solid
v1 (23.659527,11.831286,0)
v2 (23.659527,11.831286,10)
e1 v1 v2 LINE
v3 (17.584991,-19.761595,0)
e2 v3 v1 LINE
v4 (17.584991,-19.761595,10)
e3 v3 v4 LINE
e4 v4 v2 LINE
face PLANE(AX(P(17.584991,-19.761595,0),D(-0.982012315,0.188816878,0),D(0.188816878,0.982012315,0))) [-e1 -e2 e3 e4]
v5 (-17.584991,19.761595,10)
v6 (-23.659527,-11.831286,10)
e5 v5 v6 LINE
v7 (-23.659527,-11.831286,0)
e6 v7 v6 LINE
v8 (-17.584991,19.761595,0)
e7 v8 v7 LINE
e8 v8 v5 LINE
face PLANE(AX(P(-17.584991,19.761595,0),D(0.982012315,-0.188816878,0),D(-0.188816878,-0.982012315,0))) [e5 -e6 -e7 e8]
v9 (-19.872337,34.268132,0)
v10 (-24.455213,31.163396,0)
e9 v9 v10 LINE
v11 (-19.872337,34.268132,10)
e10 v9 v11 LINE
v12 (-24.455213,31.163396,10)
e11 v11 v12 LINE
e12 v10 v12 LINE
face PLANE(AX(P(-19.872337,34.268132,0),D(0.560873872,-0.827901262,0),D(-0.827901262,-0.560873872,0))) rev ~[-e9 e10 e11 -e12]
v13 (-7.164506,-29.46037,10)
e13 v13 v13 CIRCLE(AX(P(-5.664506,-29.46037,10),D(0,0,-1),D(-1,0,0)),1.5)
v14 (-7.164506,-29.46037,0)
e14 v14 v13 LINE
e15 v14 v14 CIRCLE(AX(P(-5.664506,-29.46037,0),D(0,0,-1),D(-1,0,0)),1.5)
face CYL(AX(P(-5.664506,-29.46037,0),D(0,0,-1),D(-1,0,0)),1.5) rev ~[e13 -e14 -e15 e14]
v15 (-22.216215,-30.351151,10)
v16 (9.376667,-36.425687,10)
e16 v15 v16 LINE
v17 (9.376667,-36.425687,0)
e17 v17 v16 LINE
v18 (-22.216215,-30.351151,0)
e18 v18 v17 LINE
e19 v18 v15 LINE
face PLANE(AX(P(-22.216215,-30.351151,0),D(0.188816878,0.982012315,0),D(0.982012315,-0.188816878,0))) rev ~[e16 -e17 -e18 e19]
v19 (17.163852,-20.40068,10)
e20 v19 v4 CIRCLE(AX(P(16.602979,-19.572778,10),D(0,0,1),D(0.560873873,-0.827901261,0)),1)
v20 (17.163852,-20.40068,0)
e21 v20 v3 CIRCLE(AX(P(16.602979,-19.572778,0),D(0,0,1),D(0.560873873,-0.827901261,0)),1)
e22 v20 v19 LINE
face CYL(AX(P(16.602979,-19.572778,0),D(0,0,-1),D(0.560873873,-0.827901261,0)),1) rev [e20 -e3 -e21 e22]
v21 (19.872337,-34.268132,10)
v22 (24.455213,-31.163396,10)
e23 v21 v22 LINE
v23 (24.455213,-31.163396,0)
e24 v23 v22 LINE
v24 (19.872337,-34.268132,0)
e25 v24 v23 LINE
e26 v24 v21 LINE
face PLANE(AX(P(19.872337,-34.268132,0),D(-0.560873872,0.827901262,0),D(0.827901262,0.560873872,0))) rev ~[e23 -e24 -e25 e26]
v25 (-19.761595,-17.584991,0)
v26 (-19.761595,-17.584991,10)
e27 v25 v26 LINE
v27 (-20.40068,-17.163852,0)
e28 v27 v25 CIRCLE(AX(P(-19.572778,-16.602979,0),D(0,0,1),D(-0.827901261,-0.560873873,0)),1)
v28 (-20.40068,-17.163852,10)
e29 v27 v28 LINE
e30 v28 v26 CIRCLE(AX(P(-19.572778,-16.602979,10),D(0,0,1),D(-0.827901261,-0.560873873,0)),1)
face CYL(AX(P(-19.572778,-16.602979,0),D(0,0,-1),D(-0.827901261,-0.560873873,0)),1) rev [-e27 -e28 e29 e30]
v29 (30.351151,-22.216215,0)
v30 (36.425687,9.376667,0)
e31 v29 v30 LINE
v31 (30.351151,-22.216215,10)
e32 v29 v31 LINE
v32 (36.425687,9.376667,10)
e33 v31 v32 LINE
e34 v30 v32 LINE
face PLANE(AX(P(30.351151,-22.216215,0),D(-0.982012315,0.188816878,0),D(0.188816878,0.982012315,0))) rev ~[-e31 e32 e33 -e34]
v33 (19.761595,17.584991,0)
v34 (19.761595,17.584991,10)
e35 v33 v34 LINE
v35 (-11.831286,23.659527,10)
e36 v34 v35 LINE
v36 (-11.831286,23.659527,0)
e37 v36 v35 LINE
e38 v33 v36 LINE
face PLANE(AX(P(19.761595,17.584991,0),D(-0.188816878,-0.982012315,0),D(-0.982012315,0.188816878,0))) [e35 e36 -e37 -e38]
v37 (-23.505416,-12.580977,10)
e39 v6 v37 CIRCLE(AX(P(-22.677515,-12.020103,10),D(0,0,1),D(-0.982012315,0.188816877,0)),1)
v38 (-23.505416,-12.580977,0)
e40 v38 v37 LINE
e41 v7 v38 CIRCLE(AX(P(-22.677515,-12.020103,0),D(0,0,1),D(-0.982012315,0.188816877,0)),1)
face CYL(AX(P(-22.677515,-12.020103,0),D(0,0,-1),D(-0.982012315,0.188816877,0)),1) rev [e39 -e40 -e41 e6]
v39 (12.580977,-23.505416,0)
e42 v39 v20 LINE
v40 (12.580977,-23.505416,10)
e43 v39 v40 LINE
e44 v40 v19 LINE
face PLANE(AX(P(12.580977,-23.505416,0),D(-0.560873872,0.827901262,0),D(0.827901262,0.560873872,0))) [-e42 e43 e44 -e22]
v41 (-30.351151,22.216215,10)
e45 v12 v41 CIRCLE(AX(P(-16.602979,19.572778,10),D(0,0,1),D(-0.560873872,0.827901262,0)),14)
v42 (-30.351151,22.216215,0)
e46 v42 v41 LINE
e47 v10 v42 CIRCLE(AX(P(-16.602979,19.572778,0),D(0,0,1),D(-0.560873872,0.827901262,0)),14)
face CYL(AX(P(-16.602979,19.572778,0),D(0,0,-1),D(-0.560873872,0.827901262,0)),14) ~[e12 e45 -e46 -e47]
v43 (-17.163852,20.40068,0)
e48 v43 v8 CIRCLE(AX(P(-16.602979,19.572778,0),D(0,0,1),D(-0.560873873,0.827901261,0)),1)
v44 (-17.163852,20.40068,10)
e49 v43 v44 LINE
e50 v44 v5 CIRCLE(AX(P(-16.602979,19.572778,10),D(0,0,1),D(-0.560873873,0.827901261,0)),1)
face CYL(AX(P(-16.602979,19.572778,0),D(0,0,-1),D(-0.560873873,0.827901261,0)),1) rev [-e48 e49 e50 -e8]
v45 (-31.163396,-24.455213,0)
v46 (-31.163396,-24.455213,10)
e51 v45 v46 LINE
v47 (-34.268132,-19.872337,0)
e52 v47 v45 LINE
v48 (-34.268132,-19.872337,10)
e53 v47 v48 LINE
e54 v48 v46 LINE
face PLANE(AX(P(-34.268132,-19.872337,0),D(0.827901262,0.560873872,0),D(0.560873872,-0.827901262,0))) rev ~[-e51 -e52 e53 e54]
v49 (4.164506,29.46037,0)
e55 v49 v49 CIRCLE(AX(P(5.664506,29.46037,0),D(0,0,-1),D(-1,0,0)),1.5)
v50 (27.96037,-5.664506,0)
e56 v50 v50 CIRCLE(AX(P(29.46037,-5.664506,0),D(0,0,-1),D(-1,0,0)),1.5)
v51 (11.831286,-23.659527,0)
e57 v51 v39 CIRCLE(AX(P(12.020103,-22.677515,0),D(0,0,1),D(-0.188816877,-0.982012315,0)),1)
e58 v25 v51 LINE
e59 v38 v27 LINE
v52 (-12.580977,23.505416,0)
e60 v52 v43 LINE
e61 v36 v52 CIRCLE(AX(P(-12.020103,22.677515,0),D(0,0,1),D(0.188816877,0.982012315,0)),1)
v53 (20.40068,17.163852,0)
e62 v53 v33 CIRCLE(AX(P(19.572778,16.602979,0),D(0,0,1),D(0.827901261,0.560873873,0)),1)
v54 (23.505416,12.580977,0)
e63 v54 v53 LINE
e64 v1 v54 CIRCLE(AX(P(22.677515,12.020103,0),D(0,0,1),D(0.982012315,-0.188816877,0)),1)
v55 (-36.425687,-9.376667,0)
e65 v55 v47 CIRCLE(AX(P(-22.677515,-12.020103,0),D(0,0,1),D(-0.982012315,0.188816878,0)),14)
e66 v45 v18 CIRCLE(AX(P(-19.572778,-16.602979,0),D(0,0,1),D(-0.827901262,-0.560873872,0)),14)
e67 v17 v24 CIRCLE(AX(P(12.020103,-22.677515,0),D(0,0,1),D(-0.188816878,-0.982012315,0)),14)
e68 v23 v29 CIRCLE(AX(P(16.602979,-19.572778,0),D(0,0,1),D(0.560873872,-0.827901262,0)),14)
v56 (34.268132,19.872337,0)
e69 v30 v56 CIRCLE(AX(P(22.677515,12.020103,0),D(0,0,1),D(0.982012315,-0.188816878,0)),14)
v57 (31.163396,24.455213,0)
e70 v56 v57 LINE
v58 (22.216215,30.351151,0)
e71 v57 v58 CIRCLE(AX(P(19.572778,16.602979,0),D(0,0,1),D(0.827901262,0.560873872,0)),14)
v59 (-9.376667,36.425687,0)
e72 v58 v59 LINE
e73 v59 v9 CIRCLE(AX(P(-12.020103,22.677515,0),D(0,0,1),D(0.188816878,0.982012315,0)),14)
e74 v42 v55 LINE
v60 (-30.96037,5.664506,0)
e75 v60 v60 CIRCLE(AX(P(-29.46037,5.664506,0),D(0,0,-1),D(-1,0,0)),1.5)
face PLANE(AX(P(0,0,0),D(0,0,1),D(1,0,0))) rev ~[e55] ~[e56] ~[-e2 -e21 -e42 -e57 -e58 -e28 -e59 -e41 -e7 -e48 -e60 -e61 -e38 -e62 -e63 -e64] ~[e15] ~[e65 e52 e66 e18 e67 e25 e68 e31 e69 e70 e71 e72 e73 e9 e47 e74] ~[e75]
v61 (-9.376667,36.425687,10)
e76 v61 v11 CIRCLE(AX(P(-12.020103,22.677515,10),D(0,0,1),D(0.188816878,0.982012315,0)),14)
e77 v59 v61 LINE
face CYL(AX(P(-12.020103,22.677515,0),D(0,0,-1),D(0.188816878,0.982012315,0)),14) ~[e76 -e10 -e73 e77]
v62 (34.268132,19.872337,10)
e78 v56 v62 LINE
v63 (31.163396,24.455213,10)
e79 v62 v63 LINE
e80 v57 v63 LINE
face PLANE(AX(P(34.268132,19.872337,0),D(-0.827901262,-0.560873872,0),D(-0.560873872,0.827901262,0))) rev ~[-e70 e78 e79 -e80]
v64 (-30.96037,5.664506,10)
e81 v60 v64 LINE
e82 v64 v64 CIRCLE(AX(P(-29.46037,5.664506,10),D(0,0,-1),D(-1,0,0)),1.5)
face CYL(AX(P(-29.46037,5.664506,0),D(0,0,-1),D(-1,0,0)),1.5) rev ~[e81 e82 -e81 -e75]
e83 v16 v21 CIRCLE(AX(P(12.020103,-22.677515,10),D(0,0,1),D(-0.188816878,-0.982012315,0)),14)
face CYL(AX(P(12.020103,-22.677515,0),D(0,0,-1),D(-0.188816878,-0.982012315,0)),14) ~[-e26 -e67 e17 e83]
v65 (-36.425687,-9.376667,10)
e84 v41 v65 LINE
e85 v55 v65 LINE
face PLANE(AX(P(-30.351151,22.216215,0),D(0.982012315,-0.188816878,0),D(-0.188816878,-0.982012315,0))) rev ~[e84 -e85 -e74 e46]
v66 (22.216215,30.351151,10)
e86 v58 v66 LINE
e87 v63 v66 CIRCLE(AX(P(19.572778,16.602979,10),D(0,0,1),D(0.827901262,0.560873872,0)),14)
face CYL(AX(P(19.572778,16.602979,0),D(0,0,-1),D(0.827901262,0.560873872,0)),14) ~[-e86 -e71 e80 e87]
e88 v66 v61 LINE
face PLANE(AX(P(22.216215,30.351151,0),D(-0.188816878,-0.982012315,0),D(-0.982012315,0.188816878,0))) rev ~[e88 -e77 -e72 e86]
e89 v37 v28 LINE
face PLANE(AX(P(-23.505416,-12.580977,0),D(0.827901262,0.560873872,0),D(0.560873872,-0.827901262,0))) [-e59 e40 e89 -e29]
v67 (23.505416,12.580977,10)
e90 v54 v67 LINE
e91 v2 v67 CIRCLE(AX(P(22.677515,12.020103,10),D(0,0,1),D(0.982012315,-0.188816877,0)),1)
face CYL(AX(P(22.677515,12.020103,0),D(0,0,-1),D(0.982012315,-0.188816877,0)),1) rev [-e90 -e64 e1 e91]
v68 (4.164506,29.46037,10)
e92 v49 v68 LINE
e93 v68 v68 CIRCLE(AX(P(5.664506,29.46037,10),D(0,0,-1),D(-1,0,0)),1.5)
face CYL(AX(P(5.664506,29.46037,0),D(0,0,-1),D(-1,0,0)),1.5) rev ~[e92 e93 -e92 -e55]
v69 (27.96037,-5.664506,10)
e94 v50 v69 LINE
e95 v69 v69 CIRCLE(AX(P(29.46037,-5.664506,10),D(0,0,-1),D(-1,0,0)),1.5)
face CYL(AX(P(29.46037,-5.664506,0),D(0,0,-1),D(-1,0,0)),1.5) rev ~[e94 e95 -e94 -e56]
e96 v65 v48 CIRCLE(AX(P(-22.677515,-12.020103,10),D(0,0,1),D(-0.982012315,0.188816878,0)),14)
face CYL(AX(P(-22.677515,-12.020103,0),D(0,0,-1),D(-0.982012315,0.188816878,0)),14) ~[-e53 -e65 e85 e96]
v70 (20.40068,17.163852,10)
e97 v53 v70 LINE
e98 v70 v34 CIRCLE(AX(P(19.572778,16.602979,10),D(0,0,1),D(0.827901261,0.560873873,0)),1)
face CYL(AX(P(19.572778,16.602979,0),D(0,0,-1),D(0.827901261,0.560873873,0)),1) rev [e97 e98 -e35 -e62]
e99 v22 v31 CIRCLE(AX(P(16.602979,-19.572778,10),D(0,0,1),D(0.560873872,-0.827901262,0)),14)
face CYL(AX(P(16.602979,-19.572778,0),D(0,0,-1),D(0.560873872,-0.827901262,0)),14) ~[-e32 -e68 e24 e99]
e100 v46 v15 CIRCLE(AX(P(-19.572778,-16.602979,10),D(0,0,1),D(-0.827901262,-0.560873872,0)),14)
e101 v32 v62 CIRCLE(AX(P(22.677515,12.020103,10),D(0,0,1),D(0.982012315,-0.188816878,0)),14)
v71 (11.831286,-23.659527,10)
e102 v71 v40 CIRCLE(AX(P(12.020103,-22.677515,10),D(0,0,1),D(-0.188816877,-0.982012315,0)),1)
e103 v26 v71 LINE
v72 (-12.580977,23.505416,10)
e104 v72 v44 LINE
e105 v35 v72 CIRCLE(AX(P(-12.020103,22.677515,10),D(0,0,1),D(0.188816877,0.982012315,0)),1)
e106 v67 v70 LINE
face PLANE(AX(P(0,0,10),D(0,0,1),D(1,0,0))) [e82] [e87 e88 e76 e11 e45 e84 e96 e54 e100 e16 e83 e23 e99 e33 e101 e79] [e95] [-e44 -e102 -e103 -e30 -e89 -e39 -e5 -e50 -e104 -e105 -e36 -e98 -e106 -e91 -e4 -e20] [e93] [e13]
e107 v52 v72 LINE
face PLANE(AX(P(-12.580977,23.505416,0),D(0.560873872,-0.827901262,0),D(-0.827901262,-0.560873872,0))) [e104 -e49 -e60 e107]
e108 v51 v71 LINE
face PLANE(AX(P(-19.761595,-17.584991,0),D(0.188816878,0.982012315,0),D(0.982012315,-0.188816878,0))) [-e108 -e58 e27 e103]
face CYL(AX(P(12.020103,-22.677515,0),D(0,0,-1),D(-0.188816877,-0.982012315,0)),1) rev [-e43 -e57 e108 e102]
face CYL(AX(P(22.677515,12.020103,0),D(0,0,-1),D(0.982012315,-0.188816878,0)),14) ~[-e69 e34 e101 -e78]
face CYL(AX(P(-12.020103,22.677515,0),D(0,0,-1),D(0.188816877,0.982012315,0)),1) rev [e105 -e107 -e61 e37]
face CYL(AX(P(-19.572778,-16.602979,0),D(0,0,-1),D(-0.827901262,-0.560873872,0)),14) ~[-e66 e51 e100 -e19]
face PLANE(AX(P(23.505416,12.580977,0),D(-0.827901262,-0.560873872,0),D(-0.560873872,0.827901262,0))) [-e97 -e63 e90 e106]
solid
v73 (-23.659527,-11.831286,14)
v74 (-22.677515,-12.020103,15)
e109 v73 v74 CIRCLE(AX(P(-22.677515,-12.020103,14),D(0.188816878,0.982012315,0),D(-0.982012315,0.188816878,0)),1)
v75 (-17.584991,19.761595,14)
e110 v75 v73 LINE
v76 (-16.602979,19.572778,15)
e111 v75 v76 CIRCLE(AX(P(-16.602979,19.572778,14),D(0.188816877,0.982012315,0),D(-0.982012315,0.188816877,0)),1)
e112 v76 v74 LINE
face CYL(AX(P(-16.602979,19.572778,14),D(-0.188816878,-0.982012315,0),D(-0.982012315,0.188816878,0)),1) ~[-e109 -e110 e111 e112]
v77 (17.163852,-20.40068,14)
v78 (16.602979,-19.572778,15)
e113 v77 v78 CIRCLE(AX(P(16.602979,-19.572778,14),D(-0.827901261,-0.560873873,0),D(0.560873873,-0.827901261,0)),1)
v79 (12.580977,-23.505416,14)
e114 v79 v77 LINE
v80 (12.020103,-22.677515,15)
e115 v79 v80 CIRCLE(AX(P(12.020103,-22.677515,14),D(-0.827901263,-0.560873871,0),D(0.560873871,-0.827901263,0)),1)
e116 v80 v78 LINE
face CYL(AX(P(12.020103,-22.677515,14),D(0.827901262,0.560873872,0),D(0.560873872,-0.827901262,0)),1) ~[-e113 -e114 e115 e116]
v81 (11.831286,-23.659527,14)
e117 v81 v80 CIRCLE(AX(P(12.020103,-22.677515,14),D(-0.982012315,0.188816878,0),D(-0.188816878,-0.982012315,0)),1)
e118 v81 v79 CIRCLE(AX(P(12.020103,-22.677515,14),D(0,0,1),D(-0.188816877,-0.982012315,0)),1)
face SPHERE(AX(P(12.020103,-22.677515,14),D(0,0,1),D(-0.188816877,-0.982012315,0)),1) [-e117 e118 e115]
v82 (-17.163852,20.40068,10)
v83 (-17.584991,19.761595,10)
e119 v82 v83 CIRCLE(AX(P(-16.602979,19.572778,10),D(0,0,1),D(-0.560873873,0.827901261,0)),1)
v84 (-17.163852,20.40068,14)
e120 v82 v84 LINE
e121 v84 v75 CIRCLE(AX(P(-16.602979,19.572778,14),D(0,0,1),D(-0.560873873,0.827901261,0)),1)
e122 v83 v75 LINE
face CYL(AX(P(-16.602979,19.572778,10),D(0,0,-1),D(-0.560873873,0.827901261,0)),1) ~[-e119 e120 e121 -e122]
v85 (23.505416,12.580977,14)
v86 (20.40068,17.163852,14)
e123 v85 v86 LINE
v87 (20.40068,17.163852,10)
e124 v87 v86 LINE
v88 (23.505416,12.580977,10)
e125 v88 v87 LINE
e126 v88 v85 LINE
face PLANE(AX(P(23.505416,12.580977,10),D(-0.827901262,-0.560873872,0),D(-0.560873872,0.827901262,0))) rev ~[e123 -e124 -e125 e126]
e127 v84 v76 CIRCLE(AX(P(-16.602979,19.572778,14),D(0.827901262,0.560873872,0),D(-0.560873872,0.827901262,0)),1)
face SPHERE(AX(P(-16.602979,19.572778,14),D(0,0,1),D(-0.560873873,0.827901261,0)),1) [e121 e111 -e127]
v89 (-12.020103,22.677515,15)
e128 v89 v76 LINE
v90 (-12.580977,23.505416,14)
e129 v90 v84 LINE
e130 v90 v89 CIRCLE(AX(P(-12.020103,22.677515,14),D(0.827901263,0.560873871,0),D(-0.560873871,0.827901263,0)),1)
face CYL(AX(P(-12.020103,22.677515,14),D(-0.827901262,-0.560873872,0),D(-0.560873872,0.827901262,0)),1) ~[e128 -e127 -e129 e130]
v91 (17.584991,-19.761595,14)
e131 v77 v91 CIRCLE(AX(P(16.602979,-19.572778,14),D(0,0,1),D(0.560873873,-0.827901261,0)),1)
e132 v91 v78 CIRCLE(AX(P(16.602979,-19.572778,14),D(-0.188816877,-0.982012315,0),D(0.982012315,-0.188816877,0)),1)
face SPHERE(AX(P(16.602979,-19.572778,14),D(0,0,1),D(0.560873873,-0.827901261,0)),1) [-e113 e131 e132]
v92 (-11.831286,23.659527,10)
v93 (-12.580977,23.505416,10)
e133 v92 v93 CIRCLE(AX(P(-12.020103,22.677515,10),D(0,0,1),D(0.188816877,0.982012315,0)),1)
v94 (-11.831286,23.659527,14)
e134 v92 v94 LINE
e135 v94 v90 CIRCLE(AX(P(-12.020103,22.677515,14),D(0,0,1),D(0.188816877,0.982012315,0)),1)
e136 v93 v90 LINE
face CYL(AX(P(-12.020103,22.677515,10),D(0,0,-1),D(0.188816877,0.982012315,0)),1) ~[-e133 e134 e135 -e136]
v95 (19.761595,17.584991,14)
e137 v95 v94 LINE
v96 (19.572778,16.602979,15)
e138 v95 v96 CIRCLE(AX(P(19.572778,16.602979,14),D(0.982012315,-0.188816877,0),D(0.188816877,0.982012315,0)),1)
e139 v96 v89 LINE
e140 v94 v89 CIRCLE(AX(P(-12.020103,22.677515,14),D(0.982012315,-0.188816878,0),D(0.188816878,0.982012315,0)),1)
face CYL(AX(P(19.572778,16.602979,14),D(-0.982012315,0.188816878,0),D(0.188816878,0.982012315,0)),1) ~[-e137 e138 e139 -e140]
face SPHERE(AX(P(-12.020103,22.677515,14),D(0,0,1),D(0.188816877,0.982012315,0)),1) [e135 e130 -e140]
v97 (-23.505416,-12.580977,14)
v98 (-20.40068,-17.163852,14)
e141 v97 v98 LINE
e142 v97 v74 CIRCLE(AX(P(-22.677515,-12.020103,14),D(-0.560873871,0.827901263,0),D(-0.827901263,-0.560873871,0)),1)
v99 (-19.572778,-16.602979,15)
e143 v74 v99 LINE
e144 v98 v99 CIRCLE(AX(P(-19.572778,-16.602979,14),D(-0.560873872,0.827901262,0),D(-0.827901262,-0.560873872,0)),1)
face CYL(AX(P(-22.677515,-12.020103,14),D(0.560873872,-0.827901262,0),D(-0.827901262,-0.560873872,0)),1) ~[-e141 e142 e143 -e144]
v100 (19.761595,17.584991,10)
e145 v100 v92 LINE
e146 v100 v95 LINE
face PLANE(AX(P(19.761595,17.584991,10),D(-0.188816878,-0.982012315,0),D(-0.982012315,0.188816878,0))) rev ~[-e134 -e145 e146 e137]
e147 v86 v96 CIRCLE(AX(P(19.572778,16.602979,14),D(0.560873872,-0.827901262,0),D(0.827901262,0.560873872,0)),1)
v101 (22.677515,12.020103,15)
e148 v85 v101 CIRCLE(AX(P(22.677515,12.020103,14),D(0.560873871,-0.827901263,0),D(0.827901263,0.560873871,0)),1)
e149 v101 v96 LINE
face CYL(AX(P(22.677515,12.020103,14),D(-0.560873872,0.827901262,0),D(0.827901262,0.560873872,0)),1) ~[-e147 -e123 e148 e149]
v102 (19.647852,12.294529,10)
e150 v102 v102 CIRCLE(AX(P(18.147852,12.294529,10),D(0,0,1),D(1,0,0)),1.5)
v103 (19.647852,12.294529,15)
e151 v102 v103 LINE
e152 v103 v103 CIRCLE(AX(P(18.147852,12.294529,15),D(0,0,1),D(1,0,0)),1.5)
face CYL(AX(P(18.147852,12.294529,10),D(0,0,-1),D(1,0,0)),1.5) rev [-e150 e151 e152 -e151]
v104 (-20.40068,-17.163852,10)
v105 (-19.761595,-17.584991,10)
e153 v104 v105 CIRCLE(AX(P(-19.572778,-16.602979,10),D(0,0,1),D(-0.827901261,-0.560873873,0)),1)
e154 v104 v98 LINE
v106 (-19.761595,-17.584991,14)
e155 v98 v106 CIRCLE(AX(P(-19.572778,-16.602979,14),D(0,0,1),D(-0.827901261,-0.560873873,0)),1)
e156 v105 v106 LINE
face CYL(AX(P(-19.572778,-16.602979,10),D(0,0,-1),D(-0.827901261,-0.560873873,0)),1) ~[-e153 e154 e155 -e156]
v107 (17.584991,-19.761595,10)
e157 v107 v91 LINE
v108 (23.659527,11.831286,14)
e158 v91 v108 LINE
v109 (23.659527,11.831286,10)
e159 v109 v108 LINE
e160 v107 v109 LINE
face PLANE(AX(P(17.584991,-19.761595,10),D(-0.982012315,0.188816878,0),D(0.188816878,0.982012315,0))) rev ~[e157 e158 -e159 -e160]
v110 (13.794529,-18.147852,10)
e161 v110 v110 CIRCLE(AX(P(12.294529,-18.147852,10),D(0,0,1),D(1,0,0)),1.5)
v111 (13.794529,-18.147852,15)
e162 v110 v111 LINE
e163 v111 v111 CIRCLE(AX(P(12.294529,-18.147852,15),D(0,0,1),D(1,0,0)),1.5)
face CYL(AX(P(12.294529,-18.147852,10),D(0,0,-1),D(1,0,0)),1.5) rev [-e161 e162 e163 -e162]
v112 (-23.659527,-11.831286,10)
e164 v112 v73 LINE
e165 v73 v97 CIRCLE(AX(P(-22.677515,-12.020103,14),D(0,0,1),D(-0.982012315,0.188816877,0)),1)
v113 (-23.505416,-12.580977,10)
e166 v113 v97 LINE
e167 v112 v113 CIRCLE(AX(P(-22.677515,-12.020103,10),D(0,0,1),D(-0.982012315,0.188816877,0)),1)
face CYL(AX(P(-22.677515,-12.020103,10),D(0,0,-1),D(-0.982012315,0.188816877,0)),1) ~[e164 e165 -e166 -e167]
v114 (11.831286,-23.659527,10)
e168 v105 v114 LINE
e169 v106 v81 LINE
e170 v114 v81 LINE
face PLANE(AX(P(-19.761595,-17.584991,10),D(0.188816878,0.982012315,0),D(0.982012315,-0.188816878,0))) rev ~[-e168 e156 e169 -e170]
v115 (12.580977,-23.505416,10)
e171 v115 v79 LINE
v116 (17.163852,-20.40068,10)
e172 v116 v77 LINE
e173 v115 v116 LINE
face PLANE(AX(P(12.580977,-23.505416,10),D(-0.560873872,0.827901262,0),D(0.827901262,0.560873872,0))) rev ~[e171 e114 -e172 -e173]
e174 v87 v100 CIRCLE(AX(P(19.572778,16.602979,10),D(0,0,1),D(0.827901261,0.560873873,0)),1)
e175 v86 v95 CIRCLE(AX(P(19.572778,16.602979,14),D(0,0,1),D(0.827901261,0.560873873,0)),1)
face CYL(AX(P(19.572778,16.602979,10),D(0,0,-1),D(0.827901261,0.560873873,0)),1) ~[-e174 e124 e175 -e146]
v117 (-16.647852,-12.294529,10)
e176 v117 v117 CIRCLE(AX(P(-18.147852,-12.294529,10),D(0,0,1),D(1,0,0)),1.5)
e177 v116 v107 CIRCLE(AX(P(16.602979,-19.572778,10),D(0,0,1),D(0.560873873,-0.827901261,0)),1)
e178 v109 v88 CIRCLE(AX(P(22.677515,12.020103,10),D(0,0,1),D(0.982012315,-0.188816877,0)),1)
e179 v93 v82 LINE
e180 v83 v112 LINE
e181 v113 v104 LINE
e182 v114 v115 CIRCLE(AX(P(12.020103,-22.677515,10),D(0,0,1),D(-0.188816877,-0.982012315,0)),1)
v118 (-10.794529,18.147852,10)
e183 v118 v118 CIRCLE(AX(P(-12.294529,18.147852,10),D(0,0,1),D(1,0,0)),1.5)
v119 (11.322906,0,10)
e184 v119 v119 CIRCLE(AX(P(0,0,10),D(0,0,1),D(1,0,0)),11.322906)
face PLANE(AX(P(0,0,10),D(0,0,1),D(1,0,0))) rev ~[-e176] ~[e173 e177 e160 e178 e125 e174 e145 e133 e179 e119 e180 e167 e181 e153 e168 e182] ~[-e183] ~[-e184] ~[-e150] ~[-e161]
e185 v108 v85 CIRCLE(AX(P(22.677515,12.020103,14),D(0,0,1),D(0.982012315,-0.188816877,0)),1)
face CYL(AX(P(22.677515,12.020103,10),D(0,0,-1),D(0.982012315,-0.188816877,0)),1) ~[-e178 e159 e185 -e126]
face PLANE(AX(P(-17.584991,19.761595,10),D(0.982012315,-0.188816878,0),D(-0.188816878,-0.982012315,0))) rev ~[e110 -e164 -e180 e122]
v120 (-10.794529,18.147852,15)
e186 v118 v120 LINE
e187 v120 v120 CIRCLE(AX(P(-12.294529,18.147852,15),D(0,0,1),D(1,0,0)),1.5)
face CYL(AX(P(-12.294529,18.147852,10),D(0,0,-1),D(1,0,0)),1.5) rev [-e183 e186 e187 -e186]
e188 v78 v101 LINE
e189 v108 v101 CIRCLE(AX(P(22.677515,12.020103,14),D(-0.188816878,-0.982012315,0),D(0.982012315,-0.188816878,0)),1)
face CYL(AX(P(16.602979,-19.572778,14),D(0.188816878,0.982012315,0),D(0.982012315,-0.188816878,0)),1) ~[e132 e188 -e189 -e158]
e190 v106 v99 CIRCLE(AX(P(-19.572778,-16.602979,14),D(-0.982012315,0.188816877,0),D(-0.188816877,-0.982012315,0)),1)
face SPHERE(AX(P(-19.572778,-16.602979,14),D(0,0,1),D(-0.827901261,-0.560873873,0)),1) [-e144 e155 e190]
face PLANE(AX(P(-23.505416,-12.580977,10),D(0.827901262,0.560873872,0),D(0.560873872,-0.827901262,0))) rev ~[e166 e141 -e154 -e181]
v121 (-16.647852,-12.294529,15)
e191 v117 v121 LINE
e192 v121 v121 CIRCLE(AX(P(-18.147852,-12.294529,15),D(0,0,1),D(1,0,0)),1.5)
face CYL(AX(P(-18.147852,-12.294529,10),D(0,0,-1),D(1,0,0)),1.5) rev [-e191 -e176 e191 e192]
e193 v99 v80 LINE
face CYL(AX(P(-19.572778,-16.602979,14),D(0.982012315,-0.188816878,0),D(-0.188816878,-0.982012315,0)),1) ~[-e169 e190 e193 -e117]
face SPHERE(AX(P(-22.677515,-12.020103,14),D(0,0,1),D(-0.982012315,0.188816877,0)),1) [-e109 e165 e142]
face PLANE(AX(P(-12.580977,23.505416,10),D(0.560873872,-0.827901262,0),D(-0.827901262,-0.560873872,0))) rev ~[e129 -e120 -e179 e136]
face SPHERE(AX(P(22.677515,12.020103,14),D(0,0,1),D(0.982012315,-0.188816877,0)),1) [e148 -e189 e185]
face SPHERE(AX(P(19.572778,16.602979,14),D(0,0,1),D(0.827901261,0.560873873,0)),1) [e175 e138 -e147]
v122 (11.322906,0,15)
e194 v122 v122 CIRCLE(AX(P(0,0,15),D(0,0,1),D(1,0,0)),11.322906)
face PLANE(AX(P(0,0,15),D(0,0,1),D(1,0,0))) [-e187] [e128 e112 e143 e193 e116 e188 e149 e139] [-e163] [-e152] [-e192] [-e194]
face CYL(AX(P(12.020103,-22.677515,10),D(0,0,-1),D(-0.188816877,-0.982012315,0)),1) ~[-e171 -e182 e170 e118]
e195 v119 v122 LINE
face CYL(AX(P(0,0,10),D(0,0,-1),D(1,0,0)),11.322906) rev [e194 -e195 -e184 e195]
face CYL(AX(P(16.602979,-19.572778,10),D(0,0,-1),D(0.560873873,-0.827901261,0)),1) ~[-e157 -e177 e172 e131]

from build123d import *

# Parameters (mm, degrees)
BOSS_EXTRU_1_DEPTH      = 10
ESQUISSE4_R             = 1.5
ENL_V_MAT_EXTRU_1_DEPTH = 53.824995602
ESQUISSE5_R             = 1.5
ESQUISSE5_R_2           = 11.32290571
BOSS_EXTRU_2_DEPTH      = 5
CONG_3_R                = 1


with BuildPart() as part:
    # Esquisse2 → Boss.-Extru.1 (new body)
    with BuildSketch(Plane.XY):
        with BuildLine():
            Line((30.351150978, -22.216214596), (36.425687048, 9.37666677))
            ThreePointArc((36.425687048, 9.37666677), (36.390769011, 14.839084183), (34.268132307, 19.872337274))
            Line((34.268132307, 19.872337274), (31.163395971, 24.45521278))
            ThreePointArc((31.163395971, 24.45521278), (27.276192796, 28.293034393), (22.216214596, 30.351150978))
            Line((22.216214596, 30.351150978), (-9.37666677, 36.425687048))
            ThreePointArc((-9.37666677, 36.425687048), (-14.839084183, 36.390769011), (-19.872337274, 34.268132307))
            Line((-19.872337274, 34.268132307), (-24.45521278, 31.163395971))
            ThreePointArc((-24.45521278, 31.163395971), (-28.293034393, 27.276192796), (-30.351150978, 22.216214596))
            Line((-30.351150978, 22.216214596), (-36.425687048, -9.37666677))
            ThreePointArc((-36.425687048, -9.37666677), (-36.390769011, -14.839084183), (-34.268132307, -19.872337274))
            Line((-34.268132307, -19.872337274), (-31.163395971, -24.45521278))
            ThreePointArc((-31.163395971, -24.45521278), (-27.276192796, -28.293034393), (-22.216214596, -30.351150978))
            Line((-22.216214596, -30.351150978), (9.37666677, -36.425687048))
            ThreePointArc((9.37666677, -36.425687048), (14.839084183, -36.390769011), (19.872337274, -34.268132307))
            Line((19.872337274, -34.268132307), (24.45521278, -31.163395971))
            ThreePointArc((24.45521278, -31.163395971), (28.293034393, -27.276192796), (30.351150978, -22.216214596))
        make_face()
        with BuildLine():
            Line((19.761595182, 17.584990884), (-11.831286185, 23.659526955))
            ThreePointArc((-11.831286185, 23.659526955), (-12.221458858, 23.657032809), (-12.580976935, 23.505415902))
            Line((-12.580976935, 23.505415902), (-17.163852442, 20.400679566))
            ThreePointArc((-17.163852442, 20.400679566), (-17.437982557, 20.123022196), (-17.584990884, 19.761595182))
            Line((-17.584990884, 19.761595182), (-23.659526955, -11.831286185))
            ThreePointArc((-23.659526955, -11.831286185), (-23.657032809, -12.221458858), (-23.505415902, -12.580976935))
            Line((-23.505415902, -12.580976935), (-20.400679566, -17.163852442))
            ThreePointArc((-20.400679566, -17.163852442), (-20.123022196, -17.437982557), (-19.761595182, -17.584990884))
            Line((-19.761595182, -17.584990884), (11.831286185, -23.659526955))
            ThreePointArc((11.831286185, -23.659526955), (12.221458858, -23.657032809), (12.580976935, -23.505415902))
            Line((12.580976935, -23.505415902), (17.163852442, -20.400679566))
            ThreePointArc((17.163852442, -20.400679566), (17.437982557, -20.123022196), (17.584990884, -19.761595182))
            Line((17.584990884, -19.761595182), (23.659526955, 11.831286185))
            ThreePointArc((23.659526955, 11.831286185), (23.657032809, 12.221458858), (23.505415902, 12.580976935))
            Line((23.505415902, 12.580976935), (20.400679566, 17.163852442))
            ThreePointArc((20.400679566, 17.163852442), (20.123022196, 17.437982557), (19.761595182, 17.584990884))
        make_face(mode=Mode.SUBTRACT)
    extrude(amount=BOSS_EXTRU_1_DEPTH)

    # Esquisse4 → Enlèv. mat.-Extru.1 (cut, through all)
    with BuildSketch(Plane(origin=(0, 0, 0), x_dir=(-1, 0, 0), z_dir=(0, 0, -1))):
        with Locations((29.460369753, 5.664506401)):
            Circle(ESQUISSE4_R)
        with Locations((5.664506401, -29.460369753)):
            Circle(ESQUISSE4_R)
        with Locations((-29.460369753, -5.664506401)):
            Circle(ESQUISSE4_R)
        with Locations((-5.664506401, 29.460369753)):
            Circle(ESQUISSE4_R)
    extrude(amount=-ENL_V_MAT_EXTRU_1_DEPTH, mode=Mode.SUBTRACT)


with BuildPart() as body_2:
    # Esquisse5 → Boss.-Extru.2 (new body)
    with BuildSketch(Plane.XY.offset(10)):
        with BuildLine():
            ThreePointArc((17.163852442, -20.400679566), (17.437982557, -20.123022196), (17.584990884, -19.761595182))
            Line((17.584990884, -19.761595182), (23.659526955, 11.831286185))
            ThreePointArc((23.659526955, 11.831286185), (23.657032809, 12.221458858), (23.505415902, 12.580976935))
            Line((23.505415902, 12.580976935), (20.400679566, 17.163852442))
            ThreePointArc((20.400679566, 17.163852442), (20.123022196, 17.437982557), (19.761595182, 17.584990884))
            Line((19.761595182, 17.584990884), (-11.831286185, 23.659526955))
            ThreePointArc((-11.831286185, 23.659526955), (-12.221458858, 23.657032809), (-12.580976935, 23.505415902))
            Line((-12.580976935, 23.505415902), (-17.163852442, 20.400679566))
            ThreePointArc((-17.163852442, 20.400679566), (-17.437982557, 20.123022196), (-17.584990884, 19.761595182))
            Line((-17.584990884, 19.761595182), (-23.659526955, -11.831286185))
            ThreePointArc((-23.659526955, -11.831286185), (-23.657032809, -12.221458858), (-23.505415902, -12.580976935))
            Line((-23.505415902, -12.580976935), (-20.400679566, -17.163852442))
            ThreePointArc((-20.400679566, -17.163852442), (-20.123022196, -17.437982557), (-19.761595182, -17.584990884))
            Line((-19.761595182, -17.584990884), (11.831286185, -23.659526955))
            ThreePointArc((11.831286185, -23.659526955), (12.221458858, -23.657032809), (12.580976935, -23.505415902))
            Line((12.580976935, -23.505415902), (17.163852442, -20.400679566))
        make_face()
        with Locations((-18.14785249, -12.294529271)):
            Circle(ESQUISSE5_R, mode=Mode.SUBTRACT)
        with Locations((12.294529271, -18.14785249)):
            Circle(ESQUISSE5_R, mode=Mode.SUBTRACT)
        Circle(ESQUISSE5_R_2, mode=Mode.SUBTRACT)
        with Locations((-12.294529271, 18.14785249)):
            Circle(ESQUISSE5_R, mode=Mode.SUBTRACT)
        with Locations((18.14785249, 12.294529271)):
            Circle(ESQUISSE5_R, mode=Mode.SUBTRACT)
    extrude(amount=BOSS_EXTRU_2_DEPTH)

    # Congé3
    cong_3_edges = [body_2.edges().sort_by_distance(p)[0] for p in [
        (17.437982557, -20.123022196, 15),
        (20.62225892, -3.965154498, 15),
        (23.657032809, 12.221458858, 15),
        (21.953047734, 14.872414689, 15),
        (20.123022196, 17.437982557, 15),
        (3.965154498, 20.62225892, 15),
        (-12.221458858, 23.657032809, 15),
        (-14.872414689, 21.953047734, 15),
        (-17.437982557, 20.123022196, 15),
        (-20.62225892, 3.965154498, 15),
        (-23.657032809, -12.221458858, 15),
        (-21.953047734, -14.872414689, 15),
        (-20.123022196, -17.437982557, 15),
        (-3.965154498, -20.62225892, 15),
        (12.221458858, -23.657032809, 15),
        (14.872414689, -21.953047734, 15),
    ]]
    fillet(cong_3_edges, radius=CONG_3_R)


solid = Compound([part.part, body_2.part])
